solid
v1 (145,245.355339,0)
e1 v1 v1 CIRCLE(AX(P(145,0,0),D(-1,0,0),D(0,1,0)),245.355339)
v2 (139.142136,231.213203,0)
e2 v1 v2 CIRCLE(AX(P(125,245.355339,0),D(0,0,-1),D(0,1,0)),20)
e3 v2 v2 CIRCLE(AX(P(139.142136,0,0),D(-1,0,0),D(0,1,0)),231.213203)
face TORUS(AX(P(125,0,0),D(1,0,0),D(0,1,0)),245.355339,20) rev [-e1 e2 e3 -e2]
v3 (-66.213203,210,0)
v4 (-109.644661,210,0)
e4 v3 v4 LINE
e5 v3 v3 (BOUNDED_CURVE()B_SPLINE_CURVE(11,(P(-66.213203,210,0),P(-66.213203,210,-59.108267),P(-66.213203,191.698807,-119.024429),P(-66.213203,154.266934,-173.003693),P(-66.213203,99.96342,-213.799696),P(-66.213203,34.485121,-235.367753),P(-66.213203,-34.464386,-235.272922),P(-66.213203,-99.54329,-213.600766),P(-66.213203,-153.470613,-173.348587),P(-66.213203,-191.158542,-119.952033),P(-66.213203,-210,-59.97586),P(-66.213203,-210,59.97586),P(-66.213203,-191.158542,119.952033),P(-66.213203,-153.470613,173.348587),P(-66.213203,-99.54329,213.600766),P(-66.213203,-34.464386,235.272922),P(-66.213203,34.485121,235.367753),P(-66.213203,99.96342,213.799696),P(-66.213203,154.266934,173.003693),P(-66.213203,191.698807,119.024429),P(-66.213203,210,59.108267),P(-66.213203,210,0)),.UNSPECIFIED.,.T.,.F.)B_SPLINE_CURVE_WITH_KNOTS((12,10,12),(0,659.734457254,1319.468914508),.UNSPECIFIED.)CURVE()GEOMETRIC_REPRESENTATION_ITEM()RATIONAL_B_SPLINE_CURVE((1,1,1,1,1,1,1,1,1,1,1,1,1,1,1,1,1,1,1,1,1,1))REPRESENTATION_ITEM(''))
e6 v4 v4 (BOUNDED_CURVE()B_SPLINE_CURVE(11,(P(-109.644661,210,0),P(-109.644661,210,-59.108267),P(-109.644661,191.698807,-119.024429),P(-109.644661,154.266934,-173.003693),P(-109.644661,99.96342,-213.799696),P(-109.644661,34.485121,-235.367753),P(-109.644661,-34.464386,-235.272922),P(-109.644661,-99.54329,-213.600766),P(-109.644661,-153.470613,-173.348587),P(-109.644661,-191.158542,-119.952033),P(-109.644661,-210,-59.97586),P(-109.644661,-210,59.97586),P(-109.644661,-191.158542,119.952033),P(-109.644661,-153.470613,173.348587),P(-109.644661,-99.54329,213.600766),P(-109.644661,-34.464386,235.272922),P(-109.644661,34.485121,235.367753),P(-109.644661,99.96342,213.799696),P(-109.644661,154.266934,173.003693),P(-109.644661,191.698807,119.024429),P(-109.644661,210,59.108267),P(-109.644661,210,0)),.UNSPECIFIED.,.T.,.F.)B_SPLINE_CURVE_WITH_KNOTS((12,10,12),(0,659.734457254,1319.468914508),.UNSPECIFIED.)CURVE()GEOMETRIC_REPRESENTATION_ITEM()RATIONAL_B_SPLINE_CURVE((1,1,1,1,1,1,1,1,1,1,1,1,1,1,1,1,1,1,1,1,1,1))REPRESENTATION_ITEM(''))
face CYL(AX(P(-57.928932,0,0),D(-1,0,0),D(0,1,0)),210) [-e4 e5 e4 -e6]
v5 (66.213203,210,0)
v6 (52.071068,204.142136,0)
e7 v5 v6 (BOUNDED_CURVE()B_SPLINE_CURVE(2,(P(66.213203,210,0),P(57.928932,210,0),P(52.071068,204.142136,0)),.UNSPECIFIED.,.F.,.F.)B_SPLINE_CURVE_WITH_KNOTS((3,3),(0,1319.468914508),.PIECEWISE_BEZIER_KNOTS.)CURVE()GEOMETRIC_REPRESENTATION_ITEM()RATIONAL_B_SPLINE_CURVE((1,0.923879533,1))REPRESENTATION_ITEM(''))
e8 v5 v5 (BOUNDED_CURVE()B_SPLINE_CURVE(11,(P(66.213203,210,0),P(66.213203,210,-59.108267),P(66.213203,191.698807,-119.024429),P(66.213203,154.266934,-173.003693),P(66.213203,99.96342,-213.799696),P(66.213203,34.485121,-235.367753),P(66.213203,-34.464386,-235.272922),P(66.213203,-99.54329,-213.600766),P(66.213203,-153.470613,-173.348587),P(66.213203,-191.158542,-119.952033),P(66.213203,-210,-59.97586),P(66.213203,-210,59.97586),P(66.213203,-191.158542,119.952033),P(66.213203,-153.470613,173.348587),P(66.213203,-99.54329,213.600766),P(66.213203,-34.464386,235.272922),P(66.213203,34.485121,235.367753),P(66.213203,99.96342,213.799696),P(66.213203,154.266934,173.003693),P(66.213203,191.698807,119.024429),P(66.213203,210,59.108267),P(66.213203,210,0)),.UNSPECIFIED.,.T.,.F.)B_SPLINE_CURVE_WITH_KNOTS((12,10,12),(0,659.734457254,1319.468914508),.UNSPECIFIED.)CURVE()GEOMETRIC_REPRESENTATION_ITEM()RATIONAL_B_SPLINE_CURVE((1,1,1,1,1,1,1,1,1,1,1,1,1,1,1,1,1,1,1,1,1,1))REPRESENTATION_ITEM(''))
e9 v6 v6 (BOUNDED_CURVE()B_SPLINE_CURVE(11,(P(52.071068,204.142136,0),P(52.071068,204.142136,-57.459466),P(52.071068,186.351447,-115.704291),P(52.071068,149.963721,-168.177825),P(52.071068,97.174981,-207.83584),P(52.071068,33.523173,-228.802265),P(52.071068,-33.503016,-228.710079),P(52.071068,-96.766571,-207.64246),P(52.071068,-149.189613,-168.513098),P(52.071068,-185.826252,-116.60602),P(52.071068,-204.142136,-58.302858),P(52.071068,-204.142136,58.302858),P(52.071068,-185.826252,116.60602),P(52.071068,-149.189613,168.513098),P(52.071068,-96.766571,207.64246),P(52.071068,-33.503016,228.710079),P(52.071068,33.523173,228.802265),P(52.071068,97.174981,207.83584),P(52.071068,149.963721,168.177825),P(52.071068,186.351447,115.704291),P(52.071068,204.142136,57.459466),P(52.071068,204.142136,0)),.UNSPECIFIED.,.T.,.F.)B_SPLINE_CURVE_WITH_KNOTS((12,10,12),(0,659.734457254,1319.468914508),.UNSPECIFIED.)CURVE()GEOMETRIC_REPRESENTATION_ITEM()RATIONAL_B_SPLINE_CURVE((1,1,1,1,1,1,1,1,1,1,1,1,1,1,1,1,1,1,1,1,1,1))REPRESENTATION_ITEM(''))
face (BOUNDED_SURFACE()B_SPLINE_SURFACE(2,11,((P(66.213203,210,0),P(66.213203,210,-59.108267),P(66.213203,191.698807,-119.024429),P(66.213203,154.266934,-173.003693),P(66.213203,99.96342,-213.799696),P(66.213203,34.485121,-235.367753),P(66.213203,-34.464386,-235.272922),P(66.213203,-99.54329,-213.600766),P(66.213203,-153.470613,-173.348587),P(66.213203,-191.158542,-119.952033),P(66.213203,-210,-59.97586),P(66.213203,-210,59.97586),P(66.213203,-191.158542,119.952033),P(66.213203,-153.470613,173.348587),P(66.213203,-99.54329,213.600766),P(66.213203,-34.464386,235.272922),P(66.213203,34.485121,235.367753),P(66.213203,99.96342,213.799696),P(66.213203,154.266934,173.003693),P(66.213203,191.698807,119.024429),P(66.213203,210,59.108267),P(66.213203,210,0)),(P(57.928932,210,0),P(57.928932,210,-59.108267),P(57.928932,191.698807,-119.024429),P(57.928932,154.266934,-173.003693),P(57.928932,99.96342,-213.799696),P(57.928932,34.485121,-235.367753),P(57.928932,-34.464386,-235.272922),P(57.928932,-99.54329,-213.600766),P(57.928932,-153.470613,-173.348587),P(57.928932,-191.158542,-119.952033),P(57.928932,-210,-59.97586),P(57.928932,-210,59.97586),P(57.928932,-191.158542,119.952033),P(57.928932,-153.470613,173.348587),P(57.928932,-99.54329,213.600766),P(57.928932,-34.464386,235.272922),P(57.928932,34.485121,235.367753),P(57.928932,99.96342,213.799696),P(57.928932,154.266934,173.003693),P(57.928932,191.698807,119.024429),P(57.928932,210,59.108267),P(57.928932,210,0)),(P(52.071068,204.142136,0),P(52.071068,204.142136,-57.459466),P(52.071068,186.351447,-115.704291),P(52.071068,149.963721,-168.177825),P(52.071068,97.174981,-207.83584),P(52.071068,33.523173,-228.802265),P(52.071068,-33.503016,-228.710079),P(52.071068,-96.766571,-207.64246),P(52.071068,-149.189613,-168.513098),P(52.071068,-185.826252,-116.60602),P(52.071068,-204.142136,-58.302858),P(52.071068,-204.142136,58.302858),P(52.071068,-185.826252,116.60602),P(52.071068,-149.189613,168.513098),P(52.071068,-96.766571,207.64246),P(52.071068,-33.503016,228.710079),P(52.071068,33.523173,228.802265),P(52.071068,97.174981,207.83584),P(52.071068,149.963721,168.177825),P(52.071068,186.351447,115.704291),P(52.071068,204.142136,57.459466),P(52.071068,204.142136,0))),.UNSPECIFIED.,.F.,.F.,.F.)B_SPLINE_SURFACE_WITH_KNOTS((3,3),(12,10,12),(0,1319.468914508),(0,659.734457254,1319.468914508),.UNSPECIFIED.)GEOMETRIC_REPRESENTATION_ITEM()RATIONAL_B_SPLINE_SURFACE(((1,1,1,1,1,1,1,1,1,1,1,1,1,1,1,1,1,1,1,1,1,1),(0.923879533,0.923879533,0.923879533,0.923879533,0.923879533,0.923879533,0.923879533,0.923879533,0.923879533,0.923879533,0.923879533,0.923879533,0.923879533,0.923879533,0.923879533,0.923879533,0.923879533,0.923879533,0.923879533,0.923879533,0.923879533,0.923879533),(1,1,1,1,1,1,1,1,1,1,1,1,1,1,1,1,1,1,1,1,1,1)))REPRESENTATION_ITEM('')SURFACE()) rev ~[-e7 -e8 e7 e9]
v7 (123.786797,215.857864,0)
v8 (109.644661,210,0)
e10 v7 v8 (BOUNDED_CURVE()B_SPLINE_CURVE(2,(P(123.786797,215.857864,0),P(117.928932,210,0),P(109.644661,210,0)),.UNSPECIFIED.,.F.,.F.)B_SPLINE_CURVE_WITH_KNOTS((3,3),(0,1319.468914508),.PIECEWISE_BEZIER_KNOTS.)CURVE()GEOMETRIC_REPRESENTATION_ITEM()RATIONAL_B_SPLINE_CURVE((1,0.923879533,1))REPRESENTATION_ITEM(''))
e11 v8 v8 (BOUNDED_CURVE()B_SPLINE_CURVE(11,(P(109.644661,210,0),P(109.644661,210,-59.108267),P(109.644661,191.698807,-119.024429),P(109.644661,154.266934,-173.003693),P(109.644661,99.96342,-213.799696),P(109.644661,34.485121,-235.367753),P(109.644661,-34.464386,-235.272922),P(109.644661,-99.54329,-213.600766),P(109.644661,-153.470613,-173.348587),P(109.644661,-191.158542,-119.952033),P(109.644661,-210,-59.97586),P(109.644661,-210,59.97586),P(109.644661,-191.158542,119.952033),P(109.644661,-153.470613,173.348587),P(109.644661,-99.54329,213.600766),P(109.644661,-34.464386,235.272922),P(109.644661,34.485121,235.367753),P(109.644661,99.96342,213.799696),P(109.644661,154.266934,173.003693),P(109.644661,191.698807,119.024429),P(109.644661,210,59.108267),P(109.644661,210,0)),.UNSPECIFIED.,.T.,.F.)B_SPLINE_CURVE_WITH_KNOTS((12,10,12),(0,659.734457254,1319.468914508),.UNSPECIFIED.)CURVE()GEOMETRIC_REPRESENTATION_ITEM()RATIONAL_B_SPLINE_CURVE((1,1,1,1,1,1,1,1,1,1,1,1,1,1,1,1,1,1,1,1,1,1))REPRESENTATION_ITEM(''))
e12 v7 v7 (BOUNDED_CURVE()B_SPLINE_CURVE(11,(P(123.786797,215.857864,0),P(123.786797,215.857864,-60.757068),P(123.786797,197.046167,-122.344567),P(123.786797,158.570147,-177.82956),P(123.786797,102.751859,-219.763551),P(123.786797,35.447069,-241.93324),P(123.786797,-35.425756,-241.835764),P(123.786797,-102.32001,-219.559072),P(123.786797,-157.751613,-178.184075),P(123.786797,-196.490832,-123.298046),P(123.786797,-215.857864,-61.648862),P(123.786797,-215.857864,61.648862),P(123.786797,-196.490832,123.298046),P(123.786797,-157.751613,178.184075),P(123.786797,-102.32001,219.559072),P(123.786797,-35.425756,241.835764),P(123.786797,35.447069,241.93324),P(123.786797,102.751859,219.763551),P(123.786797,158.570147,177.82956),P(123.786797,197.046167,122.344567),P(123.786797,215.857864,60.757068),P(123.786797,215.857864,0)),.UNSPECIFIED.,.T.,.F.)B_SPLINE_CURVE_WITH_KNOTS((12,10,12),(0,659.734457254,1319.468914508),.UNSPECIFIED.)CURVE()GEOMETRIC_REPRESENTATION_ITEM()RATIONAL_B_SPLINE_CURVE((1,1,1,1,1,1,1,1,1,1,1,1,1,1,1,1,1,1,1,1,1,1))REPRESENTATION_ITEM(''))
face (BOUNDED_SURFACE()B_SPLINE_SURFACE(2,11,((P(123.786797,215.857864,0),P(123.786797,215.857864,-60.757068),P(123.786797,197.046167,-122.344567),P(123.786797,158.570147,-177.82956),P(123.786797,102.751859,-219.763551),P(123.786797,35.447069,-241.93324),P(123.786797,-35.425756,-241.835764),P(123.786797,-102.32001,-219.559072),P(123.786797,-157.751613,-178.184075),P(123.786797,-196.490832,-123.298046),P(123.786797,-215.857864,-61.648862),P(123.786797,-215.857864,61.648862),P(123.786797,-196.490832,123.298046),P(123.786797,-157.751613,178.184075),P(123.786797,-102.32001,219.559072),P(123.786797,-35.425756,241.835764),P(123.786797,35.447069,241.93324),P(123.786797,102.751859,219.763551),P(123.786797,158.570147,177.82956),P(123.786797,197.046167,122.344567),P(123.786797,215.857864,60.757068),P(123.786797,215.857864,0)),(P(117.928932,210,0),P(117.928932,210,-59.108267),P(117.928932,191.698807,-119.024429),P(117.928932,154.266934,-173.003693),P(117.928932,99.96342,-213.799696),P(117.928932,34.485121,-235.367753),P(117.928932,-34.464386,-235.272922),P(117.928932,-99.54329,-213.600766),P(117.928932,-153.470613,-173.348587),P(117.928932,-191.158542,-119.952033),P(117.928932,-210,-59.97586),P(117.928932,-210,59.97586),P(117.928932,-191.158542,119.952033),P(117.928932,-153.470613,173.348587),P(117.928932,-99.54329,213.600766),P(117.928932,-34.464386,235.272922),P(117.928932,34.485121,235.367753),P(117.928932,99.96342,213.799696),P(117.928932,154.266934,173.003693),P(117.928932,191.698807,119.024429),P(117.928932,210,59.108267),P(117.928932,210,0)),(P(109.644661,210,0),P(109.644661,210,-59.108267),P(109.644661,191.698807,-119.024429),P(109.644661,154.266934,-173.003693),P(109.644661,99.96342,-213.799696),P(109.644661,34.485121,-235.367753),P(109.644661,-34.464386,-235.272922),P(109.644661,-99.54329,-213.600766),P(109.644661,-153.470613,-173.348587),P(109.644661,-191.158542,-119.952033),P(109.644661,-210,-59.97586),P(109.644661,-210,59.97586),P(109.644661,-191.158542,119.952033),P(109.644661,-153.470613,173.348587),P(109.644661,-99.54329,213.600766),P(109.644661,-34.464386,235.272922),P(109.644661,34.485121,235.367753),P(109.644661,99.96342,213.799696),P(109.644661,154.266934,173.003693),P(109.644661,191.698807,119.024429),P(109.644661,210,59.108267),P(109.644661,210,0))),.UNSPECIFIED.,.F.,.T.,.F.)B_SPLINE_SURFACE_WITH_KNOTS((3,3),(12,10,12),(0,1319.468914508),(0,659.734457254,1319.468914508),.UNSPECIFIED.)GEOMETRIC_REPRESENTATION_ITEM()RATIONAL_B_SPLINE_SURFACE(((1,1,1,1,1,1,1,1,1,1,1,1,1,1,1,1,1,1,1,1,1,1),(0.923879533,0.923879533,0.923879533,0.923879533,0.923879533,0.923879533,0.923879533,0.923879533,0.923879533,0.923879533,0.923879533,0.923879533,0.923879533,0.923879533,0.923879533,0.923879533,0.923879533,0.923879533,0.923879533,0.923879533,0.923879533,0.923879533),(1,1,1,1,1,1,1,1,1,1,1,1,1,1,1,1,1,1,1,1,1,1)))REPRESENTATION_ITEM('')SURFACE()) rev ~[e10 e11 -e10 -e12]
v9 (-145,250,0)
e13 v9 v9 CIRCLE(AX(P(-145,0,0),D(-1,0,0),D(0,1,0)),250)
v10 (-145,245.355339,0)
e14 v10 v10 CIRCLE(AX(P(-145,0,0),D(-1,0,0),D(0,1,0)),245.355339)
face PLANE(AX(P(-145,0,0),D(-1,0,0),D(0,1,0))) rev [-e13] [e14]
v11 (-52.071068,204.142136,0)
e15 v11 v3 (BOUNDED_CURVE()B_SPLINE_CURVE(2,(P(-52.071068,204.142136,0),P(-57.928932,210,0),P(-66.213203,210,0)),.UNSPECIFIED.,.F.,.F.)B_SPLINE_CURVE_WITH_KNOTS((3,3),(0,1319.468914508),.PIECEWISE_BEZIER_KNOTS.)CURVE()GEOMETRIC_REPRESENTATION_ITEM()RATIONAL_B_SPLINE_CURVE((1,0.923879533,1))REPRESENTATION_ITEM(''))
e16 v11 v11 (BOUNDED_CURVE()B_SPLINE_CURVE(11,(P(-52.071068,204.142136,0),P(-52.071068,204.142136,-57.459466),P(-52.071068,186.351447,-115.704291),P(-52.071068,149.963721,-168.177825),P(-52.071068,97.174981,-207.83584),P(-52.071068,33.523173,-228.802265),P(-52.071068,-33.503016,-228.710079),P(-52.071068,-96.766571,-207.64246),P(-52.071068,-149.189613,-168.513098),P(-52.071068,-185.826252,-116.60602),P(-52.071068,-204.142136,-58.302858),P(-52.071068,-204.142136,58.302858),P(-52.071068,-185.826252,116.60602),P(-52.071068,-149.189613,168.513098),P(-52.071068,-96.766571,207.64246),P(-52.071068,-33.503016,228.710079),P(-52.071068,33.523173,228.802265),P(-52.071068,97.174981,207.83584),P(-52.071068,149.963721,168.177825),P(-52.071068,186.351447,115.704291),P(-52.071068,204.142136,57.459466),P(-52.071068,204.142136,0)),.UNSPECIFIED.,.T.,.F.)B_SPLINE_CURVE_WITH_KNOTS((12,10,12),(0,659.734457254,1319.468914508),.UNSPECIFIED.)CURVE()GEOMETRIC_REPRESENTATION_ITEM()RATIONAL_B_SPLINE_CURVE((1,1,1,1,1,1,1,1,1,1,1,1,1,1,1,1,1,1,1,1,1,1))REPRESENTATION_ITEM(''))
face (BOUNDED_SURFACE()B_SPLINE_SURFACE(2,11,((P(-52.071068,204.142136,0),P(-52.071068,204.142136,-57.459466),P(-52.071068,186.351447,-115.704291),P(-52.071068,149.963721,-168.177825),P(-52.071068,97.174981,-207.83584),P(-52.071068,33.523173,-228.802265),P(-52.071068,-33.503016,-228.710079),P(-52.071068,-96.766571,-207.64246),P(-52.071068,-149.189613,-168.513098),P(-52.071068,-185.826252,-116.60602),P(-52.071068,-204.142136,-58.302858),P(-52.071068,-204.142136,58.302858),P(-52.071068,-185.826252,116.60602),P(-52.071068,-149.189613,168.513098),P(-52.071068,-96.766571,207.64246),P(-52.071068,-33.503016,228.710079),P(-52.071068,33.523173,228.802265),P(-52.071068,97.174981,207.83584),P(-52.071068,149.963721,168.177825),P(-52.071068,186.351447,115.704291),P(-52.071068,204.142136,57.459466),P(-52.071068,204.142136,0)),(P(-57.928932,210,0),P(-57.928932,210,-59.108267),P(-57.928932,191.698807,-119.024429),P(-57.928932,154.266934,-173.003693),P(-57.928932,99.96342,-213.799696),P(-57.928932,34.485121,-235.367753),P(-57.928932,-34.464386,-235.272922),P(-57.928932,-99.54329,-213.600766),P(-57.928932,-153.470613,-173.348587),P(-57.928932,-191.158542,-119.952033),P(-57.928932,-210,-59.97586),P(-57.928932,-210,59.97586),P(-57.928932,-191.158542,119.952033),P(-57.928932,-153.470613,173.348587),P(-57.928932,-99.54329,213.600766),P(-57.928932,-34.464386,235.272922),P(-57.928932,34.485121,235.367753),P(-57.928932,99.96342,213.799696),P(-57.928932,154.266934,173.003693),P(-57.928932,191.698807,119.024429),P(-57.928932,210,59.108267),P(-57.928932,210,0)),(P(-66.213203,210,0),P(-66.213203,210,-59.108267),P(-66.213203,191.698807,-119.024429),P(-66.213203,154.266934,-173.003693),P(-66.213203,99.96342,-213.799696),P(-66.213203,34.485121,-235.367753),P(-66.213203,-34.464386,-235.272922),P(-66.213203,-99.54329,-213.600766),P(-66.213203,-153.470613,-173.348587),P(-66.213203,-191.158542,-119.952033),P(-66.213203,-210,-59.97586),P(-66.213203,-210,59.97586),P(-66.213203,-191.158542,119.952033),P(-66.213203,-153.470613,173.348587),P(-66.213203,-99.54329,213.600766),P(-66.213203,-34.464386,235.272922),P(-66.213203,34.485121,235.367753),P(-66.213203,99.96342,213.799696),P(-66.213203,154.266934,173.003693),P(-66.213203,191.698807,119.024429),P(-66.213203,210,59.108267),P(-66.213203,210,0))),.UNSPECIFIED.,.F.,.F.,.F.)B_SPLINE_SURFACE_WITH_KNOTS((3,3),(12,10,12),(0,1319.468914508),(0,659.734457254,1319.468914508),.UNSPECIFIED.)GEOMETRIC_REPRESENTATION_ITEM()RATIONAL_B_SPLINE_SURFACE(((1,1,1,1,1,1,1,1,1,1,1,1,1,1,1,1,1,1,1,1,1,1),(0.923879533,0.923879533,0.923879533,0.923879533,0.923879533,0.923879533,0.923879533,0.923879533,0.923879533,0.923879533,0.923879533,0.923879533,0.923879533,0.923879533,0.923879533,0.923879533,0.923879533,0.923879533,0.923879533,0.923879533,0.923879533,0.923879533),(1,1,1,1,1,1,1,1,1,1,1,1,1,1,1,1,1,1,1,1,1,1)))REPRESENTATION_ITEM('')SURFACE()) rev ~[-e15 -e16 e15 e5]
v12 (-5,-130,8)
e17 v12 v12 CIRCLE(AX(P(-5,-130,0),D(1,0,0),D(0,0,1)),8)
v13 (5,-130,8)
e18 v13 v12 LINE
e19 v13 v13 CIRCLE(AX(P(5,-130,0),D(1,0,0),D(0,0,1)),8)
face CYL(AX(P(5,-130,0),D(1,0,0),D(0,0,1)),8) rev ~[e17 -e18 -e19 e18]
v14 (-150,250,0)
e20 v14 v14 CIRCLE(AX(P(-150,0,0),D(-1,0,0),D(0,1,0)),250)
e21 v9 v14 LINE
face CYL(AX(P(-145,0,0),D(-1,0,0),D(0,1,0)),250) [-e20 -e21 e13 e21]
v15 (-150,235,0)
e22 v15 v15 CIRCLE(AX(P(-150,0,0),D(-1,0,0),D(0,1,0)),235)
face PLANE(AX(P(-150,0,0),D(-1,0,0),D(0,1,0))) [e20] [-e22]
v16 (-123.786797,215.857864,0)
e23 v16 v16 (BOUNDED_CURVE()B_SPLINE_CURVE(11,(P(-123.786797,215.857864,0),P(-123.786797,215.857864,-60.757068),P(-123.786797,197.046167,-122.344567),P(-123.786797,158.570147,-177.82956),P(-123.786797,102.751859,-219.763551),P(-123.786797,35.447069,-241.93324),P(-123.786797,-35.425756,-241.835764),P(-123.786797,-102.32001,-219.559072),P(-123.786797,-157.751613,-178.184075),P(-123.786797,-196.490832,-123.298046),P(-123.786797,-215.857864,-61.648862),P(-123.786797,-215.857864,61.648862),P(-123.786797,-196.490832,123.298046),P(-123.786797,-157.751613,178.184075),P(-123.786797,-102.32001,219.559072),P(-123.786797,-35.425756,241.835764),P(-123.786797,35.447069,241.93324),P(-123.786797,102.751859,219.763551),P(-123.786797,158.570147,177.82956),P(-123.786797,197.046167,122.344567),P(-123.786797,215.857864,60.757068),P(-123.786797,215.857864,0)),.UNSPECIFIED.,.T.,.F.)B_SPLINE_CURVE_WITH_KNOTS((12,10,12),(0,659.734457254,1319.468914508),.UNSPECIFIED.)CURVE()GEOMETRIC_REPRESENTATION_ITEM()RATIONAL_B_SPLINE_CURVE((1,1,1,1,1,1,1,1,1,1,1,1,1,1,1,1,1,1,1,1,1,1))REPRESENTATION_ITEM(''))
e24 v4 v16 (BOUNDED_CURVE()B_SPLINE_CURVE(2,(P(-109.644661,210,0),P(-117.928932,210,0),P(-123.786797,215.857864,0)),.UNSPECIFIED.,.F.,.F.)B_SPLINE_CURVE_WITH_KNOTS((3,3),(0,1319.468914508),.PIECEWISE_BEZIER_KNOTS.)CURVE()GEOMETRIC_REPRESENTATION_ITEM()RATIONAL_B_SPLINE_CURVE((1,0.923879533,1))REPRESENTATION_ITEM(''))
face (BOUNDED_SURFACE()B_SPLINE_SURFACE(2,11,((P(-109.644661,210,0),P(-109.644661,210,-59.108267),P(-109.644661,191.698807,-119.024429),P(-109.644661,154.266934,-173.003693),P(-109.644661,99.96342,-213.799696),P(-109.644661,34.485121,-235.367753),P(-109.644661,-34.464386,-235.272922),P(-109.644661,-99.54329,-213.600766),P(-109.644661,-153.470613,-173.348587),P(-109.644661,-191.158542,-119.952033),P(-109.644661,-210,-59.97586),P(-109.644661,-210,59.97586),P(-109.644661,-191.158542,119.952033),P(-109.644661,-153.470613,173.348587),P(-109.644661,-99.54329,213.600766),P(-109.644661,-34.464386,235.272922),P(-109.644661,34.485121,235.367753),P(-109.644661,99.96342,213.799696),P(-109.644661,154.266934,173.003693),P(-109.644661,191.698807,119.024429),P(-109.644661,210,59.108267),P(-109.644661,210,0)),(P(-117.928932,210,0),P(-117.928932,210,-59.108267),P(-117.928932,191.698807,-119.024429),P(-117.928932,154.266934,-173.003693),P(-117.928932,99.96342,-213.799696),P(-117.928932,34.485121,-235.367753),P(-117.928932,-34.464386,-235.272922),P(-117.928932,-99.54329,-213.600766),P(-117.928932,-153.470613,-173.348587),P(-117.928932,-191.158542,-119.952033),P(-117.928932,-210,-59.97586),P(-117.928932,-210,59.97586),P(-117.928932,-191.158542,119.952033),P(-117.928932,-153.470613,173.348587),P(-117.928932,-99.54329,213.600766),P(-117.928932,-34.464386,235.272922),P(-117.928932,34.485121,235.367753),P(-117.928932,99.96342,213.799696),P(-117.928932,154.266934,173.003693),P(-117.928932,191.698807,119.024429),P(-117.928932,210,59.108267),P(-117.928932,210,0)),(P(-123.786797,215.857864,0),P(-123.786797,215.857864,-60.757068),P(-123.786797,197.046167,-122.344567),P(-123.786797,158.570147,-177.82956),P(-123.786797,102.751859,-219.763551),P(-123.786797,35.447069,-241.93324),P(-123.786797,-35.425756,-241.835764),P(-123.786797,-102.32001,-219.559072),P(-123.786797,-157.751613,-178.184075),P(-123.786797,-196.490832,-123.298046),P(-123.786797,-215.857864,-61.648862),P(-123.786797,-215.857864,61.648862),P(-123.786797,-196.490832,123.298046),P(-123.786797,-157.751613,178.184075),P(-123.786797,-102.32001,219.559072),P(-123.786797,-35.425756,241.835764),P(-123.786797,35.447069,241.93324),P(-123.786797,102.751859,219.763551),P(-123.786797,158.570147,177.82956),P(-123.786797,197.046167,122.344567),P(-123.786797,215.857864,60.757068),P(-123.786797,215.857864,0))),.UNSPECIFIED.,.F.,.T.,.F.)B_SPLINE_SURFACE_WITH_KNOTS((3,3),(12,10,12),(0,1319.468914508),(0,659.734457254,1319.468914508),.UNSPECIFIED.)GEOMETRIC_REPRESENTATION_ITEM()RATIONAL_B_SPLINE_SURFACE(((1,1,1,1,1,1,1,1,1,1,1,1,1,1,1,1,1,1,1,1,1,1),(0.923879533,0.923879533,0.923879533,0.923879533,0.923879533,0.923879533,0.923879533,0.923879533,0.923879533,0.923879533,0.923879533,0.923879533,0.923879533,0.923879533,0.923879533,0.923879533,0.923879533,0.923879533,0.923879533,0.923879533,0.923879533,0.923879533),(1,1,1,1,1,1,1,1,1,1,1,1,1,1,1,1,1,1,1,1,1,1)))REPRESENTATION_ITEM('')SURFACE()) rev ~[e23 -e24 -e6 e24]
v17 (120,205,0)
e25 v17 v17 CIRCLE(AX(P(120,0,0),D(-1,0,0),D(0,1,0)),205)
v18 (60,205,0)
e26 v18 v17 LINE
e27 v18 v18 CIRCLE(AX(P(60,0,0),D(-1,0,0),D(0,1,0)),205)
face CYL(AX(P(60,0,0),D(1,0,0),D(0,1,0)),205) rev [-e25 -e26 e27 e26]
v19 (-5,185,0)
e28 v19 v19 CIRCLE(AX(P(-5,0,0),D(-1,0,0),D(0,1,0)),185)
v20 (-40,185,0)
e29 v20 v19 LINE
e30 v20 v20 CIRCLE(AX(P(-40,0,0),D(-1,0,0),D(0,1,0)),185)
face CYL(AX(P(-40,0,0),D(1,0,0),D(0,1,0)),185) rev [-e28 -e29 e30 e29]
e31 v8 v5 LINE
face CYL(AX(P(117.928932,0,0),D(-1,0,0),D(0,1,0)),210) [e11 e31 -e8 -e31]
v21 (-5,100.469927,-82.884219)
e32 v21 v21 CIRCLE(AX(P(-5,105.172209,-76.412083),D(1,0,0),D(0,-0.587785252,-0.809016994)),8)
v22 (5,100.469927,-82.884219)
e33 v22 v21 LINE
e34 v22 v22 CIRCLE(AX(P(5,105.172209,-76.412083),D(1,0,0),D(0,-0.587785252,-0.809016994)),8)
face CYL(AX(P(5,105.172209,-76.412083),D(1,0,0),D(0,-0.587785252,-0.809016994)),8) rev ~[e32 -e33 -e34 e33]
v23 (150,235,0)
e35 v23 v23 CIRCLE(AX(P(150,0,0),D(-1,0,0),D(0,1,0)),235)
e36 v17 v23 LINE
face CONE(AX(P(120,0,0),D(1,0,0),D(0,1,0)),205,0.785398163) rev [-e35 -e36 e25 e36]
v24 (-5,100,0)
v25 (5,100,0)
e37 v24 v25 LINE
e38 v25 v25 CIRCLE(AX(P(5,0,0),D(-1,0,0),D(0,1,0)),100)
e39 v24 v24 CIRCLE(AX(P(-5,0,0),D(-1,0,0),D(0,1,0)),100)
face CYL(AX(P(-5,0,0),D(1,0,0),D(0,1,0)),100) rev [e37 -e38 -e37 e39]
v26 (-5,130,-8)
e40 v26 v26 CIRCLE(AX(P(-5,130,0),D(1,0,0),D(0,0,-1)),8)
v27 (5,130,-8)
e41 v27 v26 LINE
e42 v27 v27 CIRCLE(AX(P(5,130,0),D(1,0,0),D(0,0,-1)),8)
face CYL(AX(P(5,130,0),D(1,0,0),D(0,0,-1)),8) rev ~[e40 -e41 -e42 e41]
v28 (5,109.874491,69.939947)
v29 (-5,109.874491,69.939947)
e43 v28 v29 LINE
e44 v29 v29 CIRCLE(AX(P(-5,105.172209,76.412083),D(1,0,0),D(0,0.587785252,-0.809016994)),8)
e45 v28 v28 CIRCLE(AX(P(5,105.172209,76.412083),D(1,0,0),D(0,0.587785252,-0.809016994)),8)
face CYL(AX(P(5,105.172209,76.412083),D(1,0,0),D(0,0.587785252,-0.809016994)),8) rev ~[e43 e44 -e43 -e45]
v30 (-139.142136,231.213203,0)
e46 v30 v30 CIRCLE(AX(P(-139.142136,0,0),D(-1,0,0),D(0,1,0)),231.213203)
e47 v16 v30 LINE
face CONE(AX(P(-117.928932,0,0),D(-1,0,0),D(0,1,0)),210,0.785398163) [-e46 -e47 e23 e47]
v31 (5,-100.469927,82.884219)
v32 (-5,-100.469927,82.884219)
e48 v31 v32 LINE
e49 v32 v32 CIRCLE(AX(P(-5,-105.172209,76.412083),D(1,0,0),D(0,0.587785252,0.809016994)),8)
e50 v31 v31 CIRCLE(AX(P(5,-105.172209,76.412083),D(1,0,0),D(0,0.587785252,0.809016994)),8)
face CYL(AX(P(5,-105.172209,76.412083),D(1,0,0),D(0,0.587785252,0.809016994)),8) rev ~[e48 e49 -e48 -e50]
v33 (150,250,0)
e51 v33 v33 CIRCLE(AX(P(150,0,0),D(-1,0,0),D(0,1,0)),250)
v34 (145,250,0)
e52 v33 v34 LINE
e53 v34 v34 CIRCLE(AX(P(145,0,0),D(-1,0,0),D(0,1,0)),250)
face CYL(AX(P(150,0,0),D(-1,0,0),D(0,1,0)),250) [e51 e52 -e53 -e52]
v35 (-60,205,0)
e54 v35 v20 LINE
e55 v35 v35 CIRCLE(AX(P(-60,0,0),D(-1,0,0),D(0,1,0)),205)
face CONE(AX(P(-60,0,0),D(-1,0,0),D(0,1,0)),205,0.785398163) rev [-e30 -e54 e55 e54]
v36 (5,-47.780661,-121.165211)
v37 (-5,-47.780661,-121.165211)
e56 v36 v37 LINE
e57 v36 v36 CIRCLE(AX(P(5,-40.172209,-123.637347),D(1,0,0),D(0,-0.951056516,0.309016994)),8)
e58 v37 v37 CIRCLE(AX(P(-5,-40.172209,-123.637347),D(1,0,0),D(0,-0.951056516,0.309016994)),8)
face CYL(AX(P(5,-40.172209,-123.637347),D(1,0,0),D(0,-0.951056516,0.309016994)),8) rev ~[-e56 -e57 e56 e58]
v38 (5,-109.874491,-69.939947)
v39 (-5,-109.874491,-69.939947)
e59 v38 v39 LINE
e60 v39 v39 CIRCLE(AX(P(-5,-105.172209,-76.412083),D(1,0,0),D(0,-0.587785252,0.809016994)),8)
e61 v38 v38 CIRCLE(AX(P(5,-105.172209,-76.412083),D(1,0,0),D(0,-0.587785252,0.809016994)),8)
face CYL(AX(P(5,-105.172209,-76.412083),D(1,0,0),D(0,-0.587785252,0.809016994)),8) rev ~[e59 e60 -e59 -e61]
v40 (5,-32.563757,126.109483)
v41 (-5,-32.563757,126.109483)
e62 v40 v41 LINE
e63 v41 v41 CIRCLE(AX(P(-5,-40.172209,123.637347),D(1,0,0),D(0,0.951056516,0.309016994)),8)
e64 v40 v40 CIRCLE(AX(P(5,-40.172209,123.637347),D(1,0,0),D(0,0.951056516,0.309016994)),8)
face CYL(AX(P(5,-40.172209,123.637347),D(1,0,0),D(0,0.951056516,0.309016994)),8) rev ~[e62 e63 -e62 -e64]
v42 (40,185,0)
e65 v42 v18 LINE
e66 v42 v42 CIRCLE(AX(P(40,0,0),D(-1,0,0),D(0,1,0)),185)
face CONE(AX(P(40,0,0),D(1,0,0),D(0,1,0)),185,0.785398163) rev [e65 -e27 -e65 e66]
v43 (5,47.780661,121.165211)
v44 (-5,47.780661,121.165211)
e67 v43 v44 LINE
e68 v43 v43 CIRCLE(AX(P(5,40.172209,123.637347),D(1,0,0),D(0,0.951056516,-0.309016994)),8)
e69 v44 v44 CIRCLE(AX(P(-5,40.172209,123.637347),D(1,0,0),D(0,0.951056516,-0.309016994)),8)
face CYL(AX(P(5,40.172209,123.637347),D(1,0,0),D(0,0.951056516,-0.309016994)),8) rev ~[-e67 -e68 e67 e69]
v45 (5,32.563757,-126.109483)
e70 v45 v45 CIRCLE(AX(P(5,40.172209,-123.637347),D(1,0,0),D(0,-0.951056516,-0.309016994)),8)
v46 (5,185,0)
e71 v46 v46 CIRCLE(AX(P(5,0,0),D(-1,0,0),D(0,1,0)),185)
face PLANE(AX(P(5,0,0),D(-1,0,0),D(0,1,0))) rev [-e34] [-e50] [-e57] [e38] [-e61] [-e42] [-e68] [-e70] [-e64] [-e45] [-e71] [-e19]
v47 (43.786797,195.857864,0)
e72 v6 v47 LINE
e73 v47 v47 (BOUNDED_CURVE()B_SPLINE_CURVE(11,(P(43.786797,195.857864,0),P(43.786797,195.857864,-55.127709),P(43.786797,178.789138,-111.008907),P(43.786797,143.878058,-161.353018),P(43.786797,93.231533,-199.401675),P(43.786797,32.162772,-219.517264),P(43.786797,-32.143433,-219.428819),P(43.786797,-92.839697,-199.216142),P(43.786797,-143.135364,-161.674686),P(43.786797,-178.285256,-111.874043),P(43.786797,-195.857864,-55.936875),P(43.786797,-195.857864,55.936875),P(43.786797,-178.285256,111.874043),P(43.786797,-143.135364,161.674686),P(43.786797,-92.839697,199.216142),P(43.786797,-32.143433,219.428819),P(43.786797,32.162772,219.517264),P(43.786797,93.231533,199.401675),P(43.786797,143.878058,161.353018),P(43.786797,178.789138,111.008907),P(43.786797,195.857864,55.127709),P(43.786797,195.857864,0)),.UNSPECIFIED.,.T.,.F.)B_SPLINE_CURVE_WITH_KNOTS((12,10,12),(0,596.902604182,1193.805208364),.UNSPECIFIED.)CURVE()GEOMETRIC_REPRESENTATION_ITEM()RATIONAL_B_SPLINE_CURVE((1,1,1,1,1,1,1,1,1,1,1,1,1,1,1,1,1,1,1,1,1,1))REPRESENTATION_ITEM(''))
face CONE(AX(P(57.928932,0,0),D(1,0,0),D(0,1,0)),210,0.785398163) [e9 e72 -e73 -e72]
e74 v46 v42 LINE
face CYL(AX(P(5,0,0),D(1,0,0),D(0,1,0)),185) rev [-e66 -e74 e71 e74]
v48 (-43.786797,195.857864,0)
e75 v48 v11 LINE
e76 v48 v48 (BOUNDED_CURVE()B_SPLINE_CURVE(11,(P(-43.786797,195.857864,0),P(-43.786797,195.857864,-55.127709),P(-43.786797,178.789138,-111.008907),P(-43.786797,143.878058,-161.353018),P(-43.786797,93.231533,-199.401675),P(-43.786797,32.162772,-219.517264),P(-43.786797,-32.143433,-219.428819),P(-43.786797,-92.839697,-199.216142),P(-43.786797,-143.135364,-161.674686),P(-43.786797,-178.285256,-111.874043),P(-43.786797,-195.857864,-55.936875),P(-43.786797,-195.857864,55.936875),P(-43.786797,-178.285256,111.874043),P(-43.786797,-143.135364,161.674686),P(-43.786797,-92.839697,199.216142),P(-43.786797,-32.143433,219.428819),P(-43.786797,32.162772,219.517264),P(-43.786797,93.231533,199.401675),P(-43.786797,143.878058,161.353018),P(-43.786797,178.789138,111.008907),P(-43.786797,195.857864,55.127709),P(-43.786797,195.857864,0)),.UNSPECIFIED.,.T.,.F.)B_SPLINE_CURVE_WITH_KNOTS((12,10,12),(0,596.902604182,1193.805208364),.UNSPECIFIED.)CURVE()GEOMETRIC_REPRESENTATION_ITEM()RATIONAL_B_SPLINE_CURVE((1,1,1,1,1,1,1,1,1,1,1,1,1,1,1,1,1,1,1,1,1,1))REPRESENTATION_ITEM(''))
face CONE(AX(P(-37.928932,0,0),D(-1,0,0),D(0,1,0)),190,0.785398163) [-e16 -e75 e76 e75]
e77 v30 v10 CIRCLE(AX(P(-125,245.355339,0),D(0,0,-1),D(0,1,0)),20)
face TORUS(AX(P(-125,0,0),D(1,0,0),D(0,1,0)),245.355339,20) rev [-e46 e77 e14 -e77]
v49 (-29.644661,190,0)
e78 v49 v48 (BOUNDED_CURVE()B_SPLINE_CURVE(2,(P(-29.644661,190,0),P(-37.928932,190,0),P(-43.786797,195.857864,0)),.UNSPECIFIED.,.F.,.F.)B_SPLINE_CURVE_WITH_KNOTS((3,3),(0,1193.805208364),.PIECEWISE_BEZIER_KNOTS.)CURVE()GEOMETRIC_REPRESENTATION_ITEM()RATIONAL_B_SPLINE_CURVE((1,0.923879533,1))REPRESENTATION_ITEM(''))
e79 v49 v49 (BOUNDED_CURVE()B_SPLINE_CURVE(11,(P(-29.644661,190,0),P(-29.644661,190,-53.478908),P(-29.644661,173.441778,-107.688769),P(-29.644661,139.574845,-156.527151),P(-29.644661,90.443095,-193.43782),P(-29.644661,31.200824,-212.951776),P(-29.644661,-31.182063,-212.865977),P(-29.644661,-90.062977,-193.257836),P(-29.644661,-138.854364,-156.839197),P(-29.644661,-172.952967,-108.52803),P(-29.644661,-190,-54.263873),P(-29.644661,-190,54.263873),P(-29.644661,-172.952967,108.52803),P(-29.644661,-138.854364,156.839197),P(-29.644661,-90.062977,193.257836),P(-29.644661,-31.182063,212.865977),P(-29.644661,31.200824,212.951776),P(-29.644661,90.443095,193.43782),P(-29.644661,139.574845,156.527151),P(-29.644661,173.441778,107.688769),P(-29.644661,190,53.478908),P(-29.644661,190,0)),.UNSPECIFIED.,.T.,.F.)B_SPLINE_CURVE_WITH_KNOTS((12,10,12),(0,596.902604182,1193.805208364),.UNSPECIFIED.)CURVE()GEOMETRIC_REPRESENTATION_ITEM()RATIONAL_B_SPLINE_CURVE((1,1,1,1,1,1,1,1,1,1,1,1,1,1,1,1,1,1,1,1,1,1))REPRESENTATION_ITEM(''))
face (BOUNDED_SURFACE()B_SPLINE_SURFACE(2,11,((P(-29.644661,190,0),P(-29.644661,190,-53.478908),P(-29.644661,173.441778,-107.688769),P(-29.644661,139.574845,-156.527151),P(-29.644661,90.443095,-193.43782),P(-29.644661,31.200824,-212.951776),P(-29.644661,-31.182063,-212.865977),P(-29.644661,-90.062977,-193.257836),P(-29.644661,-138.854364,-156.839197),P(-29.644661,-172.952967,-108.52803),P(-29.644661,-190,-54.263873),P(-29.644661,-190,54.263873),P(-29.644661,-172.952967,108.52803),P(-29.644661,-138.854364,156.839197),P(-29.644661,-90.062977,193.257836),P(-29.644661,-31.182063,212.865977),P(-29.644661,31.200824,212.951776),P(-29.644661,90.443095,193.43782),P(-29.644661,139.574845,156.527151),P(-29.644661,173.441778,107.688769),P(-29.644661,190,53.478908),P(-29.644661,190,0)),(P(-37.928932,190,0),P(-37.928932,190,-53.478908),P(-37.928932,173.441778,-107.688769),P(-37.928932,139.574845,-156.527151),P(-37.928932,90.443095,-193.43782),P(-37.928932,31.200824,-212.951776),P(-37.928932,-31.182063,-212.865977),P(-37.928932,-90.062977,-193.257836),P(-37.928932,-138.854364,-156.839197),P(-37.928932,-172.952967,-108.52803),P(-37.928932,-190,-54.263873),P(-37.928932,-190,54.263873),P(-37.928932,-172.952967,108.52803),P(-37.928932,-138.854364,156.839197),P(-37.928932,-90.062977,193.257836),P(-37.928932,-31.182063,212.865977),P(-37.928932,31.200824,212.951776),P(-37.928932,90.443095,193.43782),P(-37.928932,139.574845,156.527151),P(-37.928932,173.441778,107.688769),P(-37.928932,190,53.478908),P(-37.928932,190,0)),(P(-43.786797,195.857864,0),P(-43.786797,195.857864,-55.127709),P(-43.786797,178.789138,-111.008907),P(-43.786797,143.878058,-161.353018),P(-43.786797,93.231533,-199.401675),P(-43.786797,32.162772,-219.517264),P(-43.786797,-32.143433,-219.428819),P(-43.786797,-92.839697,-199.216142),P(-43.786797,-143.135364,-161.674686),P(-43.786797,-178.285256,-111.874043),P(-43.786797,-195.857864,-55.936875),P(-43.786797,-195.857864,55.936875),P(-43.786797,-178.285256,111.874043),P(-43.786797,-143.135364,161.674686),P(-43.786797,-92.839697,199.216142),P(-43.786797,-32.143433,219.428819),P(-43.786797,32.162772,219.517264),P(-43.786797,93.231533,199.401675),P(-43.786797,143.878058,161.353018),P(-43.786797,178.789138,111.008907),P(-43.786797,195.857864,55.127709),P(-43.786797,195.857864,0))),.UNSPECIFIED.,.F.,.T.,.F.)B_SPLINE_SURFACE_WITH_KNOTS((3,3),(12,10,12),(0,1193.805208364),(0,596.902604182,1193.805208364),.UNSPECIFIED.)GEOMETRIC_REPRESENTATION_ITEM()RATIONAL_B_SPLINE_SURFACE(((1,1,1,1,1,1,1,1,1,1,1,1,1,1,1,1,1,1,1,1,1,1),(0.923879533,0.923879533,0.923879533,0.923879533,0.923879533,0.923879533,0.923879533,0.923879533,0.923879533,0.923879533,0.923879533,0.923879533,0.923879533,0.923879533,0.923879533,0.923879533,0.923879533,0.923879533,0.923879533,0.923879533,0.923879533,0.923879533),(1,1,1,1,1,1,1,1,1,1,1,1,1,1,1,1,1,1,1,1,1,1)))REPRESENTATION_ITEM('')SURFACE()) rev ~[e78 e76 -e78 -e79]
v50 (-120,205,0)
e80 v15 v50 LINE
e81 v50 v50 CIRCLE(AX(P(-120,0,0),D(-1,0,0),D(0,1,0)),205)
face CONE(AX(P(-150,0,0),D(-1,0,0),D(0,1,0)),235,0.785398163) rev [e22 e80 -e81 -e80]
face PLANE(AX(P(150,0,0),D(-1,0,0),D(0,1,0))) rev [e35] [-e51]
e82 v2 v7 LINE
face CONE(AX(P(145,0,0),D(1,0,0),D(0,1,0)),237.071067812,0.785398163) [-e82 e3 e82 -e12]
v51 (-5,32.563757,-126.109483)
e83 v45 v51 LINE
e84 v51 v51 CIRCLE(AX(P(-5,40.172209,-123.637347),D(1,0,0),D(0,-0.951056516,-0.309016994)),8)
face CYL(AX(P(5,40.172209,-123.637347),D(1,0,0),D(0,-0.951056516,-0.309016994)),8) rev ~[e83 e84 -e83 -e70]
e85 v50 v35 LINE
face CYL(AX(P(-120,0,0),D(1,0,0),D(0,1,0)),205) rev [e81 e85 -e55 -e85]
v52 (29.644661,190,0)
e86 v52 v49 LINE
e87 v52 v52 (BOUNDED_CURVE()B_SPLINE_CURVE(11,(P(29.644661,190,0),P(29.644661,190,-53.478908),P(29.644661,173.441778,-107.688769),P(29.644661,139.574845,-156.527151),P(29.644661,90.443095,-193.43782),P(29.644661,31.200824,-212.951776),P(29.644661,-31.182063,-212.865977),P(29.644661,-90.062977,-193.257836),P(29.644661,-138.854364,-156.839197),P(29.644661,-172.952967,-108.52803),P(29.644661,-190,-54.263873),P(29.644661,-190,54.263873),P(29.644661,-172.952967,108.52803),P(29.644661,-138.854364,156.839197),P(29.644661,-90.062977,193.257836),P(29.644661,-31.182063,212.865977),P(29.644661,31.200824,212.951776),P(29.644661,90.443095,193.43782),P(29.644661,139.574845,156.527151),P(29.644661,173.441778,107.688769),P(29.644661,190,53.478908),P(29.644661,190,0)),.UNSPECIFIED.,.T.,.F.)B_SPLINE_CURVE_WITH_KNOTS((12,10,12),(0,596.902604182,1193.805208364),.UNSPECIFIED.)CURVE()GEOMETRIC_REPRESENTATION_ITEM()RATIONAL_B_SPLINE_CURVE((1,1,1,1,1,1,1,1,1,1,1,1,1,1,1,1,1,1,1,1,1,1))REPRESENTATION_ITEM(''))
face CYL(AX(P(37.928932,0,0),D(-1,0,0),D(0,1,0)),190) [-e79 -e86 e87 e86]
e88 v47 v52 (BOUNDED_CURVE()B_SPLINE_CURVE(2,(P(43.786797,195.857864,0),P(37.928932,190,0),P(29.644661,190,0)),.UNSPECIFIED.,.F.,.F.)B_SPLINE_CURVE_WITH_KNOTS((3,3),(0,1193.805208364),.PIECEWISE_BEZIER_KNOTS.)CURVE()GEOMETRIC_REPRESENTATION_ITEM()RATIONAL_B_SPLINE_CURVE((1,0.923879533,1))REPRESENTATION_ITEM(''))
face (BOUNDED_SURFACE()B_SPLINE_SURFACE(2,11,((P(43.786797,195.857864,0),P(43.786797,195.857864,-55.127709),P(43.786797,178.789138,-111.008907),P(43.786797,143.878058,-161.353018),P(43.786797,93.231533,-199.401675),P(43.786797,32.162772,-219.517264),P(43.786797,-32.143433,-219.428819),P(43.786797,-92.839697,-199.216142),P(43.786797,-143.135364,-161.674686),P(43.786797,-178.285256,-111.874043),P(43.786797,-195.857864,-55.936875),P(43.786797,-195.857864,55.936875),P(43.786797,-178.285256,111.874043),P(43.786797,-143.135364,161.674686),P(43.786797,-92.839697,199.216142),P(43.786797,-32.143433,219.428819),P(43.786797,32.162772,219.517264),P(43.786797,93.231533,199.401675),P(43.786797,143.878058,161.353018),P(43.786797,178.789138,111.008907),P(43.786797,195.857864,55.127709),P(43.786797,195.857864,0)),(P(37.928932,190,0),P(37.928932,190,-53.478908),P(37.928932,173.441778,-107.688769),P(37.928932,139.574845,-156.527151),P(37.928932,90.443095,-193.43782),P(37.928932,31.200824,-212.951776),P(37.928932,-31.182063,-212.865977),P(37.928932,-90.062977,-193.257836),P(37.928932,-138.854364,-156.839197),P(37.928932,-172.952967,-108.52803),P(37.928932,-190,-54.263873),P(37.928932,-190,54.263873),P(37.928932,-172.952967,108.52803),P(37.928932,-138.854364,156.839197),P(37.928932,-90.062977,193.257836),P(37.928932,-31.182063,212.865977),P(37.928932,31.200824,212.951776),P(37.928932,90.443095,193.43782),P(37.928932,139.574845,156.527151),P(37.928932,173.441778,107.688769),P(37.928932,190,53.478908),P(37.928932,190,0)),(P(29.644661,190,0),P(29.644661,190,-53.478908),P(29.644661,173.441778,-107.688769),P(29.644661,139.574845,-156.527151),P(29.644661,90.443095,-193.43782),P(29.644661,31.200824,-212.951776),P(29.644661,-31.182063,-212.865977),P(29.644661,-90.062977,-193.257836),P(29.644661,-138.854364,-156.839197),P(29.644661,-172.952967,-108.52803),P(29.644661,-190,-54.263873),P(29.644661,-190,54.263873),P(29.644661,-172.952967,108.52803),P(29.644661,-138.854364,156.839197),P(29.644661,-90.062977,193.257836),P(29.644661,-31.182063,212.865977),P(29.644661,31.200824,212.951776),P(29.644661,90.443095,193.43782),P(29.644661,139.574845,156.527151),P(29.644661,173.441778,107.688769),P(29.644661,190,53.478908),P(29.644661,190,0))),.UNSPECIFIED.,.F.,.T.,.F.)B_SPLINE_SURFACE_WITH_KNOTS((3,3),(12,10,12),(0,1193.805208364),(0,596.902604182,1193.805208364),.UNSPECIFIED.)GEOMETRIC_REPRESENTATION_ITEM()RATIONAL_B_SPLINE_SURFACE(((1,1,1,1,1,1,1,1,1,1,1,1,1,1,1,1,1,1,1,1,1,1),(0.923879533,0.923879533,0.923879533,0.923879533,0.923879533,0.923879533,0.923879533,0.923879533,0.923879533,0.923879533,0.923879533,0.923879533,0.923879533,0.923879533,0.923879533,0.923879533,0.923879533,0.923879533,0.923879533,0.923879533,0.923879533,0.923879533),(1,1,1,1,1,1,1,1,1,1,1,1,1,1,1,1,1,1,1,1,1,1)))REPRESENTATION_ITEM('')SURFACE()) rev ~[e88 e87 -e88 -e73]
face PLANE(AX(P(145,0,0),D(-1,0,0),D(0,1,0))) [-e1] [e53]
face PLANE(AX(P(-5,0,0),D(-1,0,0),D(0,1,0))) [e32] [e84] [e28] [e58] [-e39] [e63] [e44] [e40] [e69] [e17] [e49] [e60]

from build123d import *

# Parameters (mm, degrees)
FILLET1_R          = 20
SKETCH5_R          = 8
CUT_EXTRUDE1_DEPTH = 156
CIRPATTERN1_COUNT  = 10


with BuildPart() as part:
    # Sketch4 → Revolve1 (revolve)
    with BuildSketch(Plane.XY):
        Polygon((-150, 250), (-150, 235), (-120, 205), (-60, 205), (-40, 185), (-5, 185), (-5, 100), (5, 100), (5, 185), (40, 185), (60, 205), (120, 205), (150, 235), (150, 250), (145, 250), (145, 237.071067812), (117.928932188, 210), (57.928932188, 210), (37.928932188, 190), (-37.928932188, 190), (-57.928932188, 210), (-117.928932188, 210), (-145, 237.071067812), (-145, 250), align=None)
    revolve(axis=Axis((0, 0, 0), (-1, 0, 0)))

    # Fillet1
    fillet1_edges = [part.edges().sort_by_distance(p)[0] for p in [
        (145, -237.071067812, 0),
        (117.928932188, -210, 0),
        (57.928932188, -210, 0),
        (37.928932188, -190, 0),
        (-37.928932188, -190, 0),
        (-57.928932188, -210, 0),
        (-117.928932188, -210, 0),
        (-145, -237.071067812, 0),
    ]]
    fillet(fillet1_edges, radius=FILLET1_R)

    # Sketch5 → Cut-Extrude1 (cut, through all)
    with BuildSketch(Plane(origin=(5, 0, 0), x_dir=(0, 0, -1), z_dir=(1, 0, 0))):
        with Locations((0, 130)):
            Circle(SKETCH5_R)
    cut_extrude1 = extrude(amount=-CUT_EXTRUDE1_DEPTH, mode=Mode.SUBTRACT)

    # CirPattern1: Cut-Extrude1 ×10 about axis
    cirpattern1_axis = Axis((0, 0, 0), (1, 0, 0))
    for i in range(1, CIRPATTERN1_COUNT):
        add(cut_extrude1.rotate(cirpattern1_axis, i * 360 / CIRPATTERN1_COUNT), mode=Mode.SUBTRACT)


solid = part.part
